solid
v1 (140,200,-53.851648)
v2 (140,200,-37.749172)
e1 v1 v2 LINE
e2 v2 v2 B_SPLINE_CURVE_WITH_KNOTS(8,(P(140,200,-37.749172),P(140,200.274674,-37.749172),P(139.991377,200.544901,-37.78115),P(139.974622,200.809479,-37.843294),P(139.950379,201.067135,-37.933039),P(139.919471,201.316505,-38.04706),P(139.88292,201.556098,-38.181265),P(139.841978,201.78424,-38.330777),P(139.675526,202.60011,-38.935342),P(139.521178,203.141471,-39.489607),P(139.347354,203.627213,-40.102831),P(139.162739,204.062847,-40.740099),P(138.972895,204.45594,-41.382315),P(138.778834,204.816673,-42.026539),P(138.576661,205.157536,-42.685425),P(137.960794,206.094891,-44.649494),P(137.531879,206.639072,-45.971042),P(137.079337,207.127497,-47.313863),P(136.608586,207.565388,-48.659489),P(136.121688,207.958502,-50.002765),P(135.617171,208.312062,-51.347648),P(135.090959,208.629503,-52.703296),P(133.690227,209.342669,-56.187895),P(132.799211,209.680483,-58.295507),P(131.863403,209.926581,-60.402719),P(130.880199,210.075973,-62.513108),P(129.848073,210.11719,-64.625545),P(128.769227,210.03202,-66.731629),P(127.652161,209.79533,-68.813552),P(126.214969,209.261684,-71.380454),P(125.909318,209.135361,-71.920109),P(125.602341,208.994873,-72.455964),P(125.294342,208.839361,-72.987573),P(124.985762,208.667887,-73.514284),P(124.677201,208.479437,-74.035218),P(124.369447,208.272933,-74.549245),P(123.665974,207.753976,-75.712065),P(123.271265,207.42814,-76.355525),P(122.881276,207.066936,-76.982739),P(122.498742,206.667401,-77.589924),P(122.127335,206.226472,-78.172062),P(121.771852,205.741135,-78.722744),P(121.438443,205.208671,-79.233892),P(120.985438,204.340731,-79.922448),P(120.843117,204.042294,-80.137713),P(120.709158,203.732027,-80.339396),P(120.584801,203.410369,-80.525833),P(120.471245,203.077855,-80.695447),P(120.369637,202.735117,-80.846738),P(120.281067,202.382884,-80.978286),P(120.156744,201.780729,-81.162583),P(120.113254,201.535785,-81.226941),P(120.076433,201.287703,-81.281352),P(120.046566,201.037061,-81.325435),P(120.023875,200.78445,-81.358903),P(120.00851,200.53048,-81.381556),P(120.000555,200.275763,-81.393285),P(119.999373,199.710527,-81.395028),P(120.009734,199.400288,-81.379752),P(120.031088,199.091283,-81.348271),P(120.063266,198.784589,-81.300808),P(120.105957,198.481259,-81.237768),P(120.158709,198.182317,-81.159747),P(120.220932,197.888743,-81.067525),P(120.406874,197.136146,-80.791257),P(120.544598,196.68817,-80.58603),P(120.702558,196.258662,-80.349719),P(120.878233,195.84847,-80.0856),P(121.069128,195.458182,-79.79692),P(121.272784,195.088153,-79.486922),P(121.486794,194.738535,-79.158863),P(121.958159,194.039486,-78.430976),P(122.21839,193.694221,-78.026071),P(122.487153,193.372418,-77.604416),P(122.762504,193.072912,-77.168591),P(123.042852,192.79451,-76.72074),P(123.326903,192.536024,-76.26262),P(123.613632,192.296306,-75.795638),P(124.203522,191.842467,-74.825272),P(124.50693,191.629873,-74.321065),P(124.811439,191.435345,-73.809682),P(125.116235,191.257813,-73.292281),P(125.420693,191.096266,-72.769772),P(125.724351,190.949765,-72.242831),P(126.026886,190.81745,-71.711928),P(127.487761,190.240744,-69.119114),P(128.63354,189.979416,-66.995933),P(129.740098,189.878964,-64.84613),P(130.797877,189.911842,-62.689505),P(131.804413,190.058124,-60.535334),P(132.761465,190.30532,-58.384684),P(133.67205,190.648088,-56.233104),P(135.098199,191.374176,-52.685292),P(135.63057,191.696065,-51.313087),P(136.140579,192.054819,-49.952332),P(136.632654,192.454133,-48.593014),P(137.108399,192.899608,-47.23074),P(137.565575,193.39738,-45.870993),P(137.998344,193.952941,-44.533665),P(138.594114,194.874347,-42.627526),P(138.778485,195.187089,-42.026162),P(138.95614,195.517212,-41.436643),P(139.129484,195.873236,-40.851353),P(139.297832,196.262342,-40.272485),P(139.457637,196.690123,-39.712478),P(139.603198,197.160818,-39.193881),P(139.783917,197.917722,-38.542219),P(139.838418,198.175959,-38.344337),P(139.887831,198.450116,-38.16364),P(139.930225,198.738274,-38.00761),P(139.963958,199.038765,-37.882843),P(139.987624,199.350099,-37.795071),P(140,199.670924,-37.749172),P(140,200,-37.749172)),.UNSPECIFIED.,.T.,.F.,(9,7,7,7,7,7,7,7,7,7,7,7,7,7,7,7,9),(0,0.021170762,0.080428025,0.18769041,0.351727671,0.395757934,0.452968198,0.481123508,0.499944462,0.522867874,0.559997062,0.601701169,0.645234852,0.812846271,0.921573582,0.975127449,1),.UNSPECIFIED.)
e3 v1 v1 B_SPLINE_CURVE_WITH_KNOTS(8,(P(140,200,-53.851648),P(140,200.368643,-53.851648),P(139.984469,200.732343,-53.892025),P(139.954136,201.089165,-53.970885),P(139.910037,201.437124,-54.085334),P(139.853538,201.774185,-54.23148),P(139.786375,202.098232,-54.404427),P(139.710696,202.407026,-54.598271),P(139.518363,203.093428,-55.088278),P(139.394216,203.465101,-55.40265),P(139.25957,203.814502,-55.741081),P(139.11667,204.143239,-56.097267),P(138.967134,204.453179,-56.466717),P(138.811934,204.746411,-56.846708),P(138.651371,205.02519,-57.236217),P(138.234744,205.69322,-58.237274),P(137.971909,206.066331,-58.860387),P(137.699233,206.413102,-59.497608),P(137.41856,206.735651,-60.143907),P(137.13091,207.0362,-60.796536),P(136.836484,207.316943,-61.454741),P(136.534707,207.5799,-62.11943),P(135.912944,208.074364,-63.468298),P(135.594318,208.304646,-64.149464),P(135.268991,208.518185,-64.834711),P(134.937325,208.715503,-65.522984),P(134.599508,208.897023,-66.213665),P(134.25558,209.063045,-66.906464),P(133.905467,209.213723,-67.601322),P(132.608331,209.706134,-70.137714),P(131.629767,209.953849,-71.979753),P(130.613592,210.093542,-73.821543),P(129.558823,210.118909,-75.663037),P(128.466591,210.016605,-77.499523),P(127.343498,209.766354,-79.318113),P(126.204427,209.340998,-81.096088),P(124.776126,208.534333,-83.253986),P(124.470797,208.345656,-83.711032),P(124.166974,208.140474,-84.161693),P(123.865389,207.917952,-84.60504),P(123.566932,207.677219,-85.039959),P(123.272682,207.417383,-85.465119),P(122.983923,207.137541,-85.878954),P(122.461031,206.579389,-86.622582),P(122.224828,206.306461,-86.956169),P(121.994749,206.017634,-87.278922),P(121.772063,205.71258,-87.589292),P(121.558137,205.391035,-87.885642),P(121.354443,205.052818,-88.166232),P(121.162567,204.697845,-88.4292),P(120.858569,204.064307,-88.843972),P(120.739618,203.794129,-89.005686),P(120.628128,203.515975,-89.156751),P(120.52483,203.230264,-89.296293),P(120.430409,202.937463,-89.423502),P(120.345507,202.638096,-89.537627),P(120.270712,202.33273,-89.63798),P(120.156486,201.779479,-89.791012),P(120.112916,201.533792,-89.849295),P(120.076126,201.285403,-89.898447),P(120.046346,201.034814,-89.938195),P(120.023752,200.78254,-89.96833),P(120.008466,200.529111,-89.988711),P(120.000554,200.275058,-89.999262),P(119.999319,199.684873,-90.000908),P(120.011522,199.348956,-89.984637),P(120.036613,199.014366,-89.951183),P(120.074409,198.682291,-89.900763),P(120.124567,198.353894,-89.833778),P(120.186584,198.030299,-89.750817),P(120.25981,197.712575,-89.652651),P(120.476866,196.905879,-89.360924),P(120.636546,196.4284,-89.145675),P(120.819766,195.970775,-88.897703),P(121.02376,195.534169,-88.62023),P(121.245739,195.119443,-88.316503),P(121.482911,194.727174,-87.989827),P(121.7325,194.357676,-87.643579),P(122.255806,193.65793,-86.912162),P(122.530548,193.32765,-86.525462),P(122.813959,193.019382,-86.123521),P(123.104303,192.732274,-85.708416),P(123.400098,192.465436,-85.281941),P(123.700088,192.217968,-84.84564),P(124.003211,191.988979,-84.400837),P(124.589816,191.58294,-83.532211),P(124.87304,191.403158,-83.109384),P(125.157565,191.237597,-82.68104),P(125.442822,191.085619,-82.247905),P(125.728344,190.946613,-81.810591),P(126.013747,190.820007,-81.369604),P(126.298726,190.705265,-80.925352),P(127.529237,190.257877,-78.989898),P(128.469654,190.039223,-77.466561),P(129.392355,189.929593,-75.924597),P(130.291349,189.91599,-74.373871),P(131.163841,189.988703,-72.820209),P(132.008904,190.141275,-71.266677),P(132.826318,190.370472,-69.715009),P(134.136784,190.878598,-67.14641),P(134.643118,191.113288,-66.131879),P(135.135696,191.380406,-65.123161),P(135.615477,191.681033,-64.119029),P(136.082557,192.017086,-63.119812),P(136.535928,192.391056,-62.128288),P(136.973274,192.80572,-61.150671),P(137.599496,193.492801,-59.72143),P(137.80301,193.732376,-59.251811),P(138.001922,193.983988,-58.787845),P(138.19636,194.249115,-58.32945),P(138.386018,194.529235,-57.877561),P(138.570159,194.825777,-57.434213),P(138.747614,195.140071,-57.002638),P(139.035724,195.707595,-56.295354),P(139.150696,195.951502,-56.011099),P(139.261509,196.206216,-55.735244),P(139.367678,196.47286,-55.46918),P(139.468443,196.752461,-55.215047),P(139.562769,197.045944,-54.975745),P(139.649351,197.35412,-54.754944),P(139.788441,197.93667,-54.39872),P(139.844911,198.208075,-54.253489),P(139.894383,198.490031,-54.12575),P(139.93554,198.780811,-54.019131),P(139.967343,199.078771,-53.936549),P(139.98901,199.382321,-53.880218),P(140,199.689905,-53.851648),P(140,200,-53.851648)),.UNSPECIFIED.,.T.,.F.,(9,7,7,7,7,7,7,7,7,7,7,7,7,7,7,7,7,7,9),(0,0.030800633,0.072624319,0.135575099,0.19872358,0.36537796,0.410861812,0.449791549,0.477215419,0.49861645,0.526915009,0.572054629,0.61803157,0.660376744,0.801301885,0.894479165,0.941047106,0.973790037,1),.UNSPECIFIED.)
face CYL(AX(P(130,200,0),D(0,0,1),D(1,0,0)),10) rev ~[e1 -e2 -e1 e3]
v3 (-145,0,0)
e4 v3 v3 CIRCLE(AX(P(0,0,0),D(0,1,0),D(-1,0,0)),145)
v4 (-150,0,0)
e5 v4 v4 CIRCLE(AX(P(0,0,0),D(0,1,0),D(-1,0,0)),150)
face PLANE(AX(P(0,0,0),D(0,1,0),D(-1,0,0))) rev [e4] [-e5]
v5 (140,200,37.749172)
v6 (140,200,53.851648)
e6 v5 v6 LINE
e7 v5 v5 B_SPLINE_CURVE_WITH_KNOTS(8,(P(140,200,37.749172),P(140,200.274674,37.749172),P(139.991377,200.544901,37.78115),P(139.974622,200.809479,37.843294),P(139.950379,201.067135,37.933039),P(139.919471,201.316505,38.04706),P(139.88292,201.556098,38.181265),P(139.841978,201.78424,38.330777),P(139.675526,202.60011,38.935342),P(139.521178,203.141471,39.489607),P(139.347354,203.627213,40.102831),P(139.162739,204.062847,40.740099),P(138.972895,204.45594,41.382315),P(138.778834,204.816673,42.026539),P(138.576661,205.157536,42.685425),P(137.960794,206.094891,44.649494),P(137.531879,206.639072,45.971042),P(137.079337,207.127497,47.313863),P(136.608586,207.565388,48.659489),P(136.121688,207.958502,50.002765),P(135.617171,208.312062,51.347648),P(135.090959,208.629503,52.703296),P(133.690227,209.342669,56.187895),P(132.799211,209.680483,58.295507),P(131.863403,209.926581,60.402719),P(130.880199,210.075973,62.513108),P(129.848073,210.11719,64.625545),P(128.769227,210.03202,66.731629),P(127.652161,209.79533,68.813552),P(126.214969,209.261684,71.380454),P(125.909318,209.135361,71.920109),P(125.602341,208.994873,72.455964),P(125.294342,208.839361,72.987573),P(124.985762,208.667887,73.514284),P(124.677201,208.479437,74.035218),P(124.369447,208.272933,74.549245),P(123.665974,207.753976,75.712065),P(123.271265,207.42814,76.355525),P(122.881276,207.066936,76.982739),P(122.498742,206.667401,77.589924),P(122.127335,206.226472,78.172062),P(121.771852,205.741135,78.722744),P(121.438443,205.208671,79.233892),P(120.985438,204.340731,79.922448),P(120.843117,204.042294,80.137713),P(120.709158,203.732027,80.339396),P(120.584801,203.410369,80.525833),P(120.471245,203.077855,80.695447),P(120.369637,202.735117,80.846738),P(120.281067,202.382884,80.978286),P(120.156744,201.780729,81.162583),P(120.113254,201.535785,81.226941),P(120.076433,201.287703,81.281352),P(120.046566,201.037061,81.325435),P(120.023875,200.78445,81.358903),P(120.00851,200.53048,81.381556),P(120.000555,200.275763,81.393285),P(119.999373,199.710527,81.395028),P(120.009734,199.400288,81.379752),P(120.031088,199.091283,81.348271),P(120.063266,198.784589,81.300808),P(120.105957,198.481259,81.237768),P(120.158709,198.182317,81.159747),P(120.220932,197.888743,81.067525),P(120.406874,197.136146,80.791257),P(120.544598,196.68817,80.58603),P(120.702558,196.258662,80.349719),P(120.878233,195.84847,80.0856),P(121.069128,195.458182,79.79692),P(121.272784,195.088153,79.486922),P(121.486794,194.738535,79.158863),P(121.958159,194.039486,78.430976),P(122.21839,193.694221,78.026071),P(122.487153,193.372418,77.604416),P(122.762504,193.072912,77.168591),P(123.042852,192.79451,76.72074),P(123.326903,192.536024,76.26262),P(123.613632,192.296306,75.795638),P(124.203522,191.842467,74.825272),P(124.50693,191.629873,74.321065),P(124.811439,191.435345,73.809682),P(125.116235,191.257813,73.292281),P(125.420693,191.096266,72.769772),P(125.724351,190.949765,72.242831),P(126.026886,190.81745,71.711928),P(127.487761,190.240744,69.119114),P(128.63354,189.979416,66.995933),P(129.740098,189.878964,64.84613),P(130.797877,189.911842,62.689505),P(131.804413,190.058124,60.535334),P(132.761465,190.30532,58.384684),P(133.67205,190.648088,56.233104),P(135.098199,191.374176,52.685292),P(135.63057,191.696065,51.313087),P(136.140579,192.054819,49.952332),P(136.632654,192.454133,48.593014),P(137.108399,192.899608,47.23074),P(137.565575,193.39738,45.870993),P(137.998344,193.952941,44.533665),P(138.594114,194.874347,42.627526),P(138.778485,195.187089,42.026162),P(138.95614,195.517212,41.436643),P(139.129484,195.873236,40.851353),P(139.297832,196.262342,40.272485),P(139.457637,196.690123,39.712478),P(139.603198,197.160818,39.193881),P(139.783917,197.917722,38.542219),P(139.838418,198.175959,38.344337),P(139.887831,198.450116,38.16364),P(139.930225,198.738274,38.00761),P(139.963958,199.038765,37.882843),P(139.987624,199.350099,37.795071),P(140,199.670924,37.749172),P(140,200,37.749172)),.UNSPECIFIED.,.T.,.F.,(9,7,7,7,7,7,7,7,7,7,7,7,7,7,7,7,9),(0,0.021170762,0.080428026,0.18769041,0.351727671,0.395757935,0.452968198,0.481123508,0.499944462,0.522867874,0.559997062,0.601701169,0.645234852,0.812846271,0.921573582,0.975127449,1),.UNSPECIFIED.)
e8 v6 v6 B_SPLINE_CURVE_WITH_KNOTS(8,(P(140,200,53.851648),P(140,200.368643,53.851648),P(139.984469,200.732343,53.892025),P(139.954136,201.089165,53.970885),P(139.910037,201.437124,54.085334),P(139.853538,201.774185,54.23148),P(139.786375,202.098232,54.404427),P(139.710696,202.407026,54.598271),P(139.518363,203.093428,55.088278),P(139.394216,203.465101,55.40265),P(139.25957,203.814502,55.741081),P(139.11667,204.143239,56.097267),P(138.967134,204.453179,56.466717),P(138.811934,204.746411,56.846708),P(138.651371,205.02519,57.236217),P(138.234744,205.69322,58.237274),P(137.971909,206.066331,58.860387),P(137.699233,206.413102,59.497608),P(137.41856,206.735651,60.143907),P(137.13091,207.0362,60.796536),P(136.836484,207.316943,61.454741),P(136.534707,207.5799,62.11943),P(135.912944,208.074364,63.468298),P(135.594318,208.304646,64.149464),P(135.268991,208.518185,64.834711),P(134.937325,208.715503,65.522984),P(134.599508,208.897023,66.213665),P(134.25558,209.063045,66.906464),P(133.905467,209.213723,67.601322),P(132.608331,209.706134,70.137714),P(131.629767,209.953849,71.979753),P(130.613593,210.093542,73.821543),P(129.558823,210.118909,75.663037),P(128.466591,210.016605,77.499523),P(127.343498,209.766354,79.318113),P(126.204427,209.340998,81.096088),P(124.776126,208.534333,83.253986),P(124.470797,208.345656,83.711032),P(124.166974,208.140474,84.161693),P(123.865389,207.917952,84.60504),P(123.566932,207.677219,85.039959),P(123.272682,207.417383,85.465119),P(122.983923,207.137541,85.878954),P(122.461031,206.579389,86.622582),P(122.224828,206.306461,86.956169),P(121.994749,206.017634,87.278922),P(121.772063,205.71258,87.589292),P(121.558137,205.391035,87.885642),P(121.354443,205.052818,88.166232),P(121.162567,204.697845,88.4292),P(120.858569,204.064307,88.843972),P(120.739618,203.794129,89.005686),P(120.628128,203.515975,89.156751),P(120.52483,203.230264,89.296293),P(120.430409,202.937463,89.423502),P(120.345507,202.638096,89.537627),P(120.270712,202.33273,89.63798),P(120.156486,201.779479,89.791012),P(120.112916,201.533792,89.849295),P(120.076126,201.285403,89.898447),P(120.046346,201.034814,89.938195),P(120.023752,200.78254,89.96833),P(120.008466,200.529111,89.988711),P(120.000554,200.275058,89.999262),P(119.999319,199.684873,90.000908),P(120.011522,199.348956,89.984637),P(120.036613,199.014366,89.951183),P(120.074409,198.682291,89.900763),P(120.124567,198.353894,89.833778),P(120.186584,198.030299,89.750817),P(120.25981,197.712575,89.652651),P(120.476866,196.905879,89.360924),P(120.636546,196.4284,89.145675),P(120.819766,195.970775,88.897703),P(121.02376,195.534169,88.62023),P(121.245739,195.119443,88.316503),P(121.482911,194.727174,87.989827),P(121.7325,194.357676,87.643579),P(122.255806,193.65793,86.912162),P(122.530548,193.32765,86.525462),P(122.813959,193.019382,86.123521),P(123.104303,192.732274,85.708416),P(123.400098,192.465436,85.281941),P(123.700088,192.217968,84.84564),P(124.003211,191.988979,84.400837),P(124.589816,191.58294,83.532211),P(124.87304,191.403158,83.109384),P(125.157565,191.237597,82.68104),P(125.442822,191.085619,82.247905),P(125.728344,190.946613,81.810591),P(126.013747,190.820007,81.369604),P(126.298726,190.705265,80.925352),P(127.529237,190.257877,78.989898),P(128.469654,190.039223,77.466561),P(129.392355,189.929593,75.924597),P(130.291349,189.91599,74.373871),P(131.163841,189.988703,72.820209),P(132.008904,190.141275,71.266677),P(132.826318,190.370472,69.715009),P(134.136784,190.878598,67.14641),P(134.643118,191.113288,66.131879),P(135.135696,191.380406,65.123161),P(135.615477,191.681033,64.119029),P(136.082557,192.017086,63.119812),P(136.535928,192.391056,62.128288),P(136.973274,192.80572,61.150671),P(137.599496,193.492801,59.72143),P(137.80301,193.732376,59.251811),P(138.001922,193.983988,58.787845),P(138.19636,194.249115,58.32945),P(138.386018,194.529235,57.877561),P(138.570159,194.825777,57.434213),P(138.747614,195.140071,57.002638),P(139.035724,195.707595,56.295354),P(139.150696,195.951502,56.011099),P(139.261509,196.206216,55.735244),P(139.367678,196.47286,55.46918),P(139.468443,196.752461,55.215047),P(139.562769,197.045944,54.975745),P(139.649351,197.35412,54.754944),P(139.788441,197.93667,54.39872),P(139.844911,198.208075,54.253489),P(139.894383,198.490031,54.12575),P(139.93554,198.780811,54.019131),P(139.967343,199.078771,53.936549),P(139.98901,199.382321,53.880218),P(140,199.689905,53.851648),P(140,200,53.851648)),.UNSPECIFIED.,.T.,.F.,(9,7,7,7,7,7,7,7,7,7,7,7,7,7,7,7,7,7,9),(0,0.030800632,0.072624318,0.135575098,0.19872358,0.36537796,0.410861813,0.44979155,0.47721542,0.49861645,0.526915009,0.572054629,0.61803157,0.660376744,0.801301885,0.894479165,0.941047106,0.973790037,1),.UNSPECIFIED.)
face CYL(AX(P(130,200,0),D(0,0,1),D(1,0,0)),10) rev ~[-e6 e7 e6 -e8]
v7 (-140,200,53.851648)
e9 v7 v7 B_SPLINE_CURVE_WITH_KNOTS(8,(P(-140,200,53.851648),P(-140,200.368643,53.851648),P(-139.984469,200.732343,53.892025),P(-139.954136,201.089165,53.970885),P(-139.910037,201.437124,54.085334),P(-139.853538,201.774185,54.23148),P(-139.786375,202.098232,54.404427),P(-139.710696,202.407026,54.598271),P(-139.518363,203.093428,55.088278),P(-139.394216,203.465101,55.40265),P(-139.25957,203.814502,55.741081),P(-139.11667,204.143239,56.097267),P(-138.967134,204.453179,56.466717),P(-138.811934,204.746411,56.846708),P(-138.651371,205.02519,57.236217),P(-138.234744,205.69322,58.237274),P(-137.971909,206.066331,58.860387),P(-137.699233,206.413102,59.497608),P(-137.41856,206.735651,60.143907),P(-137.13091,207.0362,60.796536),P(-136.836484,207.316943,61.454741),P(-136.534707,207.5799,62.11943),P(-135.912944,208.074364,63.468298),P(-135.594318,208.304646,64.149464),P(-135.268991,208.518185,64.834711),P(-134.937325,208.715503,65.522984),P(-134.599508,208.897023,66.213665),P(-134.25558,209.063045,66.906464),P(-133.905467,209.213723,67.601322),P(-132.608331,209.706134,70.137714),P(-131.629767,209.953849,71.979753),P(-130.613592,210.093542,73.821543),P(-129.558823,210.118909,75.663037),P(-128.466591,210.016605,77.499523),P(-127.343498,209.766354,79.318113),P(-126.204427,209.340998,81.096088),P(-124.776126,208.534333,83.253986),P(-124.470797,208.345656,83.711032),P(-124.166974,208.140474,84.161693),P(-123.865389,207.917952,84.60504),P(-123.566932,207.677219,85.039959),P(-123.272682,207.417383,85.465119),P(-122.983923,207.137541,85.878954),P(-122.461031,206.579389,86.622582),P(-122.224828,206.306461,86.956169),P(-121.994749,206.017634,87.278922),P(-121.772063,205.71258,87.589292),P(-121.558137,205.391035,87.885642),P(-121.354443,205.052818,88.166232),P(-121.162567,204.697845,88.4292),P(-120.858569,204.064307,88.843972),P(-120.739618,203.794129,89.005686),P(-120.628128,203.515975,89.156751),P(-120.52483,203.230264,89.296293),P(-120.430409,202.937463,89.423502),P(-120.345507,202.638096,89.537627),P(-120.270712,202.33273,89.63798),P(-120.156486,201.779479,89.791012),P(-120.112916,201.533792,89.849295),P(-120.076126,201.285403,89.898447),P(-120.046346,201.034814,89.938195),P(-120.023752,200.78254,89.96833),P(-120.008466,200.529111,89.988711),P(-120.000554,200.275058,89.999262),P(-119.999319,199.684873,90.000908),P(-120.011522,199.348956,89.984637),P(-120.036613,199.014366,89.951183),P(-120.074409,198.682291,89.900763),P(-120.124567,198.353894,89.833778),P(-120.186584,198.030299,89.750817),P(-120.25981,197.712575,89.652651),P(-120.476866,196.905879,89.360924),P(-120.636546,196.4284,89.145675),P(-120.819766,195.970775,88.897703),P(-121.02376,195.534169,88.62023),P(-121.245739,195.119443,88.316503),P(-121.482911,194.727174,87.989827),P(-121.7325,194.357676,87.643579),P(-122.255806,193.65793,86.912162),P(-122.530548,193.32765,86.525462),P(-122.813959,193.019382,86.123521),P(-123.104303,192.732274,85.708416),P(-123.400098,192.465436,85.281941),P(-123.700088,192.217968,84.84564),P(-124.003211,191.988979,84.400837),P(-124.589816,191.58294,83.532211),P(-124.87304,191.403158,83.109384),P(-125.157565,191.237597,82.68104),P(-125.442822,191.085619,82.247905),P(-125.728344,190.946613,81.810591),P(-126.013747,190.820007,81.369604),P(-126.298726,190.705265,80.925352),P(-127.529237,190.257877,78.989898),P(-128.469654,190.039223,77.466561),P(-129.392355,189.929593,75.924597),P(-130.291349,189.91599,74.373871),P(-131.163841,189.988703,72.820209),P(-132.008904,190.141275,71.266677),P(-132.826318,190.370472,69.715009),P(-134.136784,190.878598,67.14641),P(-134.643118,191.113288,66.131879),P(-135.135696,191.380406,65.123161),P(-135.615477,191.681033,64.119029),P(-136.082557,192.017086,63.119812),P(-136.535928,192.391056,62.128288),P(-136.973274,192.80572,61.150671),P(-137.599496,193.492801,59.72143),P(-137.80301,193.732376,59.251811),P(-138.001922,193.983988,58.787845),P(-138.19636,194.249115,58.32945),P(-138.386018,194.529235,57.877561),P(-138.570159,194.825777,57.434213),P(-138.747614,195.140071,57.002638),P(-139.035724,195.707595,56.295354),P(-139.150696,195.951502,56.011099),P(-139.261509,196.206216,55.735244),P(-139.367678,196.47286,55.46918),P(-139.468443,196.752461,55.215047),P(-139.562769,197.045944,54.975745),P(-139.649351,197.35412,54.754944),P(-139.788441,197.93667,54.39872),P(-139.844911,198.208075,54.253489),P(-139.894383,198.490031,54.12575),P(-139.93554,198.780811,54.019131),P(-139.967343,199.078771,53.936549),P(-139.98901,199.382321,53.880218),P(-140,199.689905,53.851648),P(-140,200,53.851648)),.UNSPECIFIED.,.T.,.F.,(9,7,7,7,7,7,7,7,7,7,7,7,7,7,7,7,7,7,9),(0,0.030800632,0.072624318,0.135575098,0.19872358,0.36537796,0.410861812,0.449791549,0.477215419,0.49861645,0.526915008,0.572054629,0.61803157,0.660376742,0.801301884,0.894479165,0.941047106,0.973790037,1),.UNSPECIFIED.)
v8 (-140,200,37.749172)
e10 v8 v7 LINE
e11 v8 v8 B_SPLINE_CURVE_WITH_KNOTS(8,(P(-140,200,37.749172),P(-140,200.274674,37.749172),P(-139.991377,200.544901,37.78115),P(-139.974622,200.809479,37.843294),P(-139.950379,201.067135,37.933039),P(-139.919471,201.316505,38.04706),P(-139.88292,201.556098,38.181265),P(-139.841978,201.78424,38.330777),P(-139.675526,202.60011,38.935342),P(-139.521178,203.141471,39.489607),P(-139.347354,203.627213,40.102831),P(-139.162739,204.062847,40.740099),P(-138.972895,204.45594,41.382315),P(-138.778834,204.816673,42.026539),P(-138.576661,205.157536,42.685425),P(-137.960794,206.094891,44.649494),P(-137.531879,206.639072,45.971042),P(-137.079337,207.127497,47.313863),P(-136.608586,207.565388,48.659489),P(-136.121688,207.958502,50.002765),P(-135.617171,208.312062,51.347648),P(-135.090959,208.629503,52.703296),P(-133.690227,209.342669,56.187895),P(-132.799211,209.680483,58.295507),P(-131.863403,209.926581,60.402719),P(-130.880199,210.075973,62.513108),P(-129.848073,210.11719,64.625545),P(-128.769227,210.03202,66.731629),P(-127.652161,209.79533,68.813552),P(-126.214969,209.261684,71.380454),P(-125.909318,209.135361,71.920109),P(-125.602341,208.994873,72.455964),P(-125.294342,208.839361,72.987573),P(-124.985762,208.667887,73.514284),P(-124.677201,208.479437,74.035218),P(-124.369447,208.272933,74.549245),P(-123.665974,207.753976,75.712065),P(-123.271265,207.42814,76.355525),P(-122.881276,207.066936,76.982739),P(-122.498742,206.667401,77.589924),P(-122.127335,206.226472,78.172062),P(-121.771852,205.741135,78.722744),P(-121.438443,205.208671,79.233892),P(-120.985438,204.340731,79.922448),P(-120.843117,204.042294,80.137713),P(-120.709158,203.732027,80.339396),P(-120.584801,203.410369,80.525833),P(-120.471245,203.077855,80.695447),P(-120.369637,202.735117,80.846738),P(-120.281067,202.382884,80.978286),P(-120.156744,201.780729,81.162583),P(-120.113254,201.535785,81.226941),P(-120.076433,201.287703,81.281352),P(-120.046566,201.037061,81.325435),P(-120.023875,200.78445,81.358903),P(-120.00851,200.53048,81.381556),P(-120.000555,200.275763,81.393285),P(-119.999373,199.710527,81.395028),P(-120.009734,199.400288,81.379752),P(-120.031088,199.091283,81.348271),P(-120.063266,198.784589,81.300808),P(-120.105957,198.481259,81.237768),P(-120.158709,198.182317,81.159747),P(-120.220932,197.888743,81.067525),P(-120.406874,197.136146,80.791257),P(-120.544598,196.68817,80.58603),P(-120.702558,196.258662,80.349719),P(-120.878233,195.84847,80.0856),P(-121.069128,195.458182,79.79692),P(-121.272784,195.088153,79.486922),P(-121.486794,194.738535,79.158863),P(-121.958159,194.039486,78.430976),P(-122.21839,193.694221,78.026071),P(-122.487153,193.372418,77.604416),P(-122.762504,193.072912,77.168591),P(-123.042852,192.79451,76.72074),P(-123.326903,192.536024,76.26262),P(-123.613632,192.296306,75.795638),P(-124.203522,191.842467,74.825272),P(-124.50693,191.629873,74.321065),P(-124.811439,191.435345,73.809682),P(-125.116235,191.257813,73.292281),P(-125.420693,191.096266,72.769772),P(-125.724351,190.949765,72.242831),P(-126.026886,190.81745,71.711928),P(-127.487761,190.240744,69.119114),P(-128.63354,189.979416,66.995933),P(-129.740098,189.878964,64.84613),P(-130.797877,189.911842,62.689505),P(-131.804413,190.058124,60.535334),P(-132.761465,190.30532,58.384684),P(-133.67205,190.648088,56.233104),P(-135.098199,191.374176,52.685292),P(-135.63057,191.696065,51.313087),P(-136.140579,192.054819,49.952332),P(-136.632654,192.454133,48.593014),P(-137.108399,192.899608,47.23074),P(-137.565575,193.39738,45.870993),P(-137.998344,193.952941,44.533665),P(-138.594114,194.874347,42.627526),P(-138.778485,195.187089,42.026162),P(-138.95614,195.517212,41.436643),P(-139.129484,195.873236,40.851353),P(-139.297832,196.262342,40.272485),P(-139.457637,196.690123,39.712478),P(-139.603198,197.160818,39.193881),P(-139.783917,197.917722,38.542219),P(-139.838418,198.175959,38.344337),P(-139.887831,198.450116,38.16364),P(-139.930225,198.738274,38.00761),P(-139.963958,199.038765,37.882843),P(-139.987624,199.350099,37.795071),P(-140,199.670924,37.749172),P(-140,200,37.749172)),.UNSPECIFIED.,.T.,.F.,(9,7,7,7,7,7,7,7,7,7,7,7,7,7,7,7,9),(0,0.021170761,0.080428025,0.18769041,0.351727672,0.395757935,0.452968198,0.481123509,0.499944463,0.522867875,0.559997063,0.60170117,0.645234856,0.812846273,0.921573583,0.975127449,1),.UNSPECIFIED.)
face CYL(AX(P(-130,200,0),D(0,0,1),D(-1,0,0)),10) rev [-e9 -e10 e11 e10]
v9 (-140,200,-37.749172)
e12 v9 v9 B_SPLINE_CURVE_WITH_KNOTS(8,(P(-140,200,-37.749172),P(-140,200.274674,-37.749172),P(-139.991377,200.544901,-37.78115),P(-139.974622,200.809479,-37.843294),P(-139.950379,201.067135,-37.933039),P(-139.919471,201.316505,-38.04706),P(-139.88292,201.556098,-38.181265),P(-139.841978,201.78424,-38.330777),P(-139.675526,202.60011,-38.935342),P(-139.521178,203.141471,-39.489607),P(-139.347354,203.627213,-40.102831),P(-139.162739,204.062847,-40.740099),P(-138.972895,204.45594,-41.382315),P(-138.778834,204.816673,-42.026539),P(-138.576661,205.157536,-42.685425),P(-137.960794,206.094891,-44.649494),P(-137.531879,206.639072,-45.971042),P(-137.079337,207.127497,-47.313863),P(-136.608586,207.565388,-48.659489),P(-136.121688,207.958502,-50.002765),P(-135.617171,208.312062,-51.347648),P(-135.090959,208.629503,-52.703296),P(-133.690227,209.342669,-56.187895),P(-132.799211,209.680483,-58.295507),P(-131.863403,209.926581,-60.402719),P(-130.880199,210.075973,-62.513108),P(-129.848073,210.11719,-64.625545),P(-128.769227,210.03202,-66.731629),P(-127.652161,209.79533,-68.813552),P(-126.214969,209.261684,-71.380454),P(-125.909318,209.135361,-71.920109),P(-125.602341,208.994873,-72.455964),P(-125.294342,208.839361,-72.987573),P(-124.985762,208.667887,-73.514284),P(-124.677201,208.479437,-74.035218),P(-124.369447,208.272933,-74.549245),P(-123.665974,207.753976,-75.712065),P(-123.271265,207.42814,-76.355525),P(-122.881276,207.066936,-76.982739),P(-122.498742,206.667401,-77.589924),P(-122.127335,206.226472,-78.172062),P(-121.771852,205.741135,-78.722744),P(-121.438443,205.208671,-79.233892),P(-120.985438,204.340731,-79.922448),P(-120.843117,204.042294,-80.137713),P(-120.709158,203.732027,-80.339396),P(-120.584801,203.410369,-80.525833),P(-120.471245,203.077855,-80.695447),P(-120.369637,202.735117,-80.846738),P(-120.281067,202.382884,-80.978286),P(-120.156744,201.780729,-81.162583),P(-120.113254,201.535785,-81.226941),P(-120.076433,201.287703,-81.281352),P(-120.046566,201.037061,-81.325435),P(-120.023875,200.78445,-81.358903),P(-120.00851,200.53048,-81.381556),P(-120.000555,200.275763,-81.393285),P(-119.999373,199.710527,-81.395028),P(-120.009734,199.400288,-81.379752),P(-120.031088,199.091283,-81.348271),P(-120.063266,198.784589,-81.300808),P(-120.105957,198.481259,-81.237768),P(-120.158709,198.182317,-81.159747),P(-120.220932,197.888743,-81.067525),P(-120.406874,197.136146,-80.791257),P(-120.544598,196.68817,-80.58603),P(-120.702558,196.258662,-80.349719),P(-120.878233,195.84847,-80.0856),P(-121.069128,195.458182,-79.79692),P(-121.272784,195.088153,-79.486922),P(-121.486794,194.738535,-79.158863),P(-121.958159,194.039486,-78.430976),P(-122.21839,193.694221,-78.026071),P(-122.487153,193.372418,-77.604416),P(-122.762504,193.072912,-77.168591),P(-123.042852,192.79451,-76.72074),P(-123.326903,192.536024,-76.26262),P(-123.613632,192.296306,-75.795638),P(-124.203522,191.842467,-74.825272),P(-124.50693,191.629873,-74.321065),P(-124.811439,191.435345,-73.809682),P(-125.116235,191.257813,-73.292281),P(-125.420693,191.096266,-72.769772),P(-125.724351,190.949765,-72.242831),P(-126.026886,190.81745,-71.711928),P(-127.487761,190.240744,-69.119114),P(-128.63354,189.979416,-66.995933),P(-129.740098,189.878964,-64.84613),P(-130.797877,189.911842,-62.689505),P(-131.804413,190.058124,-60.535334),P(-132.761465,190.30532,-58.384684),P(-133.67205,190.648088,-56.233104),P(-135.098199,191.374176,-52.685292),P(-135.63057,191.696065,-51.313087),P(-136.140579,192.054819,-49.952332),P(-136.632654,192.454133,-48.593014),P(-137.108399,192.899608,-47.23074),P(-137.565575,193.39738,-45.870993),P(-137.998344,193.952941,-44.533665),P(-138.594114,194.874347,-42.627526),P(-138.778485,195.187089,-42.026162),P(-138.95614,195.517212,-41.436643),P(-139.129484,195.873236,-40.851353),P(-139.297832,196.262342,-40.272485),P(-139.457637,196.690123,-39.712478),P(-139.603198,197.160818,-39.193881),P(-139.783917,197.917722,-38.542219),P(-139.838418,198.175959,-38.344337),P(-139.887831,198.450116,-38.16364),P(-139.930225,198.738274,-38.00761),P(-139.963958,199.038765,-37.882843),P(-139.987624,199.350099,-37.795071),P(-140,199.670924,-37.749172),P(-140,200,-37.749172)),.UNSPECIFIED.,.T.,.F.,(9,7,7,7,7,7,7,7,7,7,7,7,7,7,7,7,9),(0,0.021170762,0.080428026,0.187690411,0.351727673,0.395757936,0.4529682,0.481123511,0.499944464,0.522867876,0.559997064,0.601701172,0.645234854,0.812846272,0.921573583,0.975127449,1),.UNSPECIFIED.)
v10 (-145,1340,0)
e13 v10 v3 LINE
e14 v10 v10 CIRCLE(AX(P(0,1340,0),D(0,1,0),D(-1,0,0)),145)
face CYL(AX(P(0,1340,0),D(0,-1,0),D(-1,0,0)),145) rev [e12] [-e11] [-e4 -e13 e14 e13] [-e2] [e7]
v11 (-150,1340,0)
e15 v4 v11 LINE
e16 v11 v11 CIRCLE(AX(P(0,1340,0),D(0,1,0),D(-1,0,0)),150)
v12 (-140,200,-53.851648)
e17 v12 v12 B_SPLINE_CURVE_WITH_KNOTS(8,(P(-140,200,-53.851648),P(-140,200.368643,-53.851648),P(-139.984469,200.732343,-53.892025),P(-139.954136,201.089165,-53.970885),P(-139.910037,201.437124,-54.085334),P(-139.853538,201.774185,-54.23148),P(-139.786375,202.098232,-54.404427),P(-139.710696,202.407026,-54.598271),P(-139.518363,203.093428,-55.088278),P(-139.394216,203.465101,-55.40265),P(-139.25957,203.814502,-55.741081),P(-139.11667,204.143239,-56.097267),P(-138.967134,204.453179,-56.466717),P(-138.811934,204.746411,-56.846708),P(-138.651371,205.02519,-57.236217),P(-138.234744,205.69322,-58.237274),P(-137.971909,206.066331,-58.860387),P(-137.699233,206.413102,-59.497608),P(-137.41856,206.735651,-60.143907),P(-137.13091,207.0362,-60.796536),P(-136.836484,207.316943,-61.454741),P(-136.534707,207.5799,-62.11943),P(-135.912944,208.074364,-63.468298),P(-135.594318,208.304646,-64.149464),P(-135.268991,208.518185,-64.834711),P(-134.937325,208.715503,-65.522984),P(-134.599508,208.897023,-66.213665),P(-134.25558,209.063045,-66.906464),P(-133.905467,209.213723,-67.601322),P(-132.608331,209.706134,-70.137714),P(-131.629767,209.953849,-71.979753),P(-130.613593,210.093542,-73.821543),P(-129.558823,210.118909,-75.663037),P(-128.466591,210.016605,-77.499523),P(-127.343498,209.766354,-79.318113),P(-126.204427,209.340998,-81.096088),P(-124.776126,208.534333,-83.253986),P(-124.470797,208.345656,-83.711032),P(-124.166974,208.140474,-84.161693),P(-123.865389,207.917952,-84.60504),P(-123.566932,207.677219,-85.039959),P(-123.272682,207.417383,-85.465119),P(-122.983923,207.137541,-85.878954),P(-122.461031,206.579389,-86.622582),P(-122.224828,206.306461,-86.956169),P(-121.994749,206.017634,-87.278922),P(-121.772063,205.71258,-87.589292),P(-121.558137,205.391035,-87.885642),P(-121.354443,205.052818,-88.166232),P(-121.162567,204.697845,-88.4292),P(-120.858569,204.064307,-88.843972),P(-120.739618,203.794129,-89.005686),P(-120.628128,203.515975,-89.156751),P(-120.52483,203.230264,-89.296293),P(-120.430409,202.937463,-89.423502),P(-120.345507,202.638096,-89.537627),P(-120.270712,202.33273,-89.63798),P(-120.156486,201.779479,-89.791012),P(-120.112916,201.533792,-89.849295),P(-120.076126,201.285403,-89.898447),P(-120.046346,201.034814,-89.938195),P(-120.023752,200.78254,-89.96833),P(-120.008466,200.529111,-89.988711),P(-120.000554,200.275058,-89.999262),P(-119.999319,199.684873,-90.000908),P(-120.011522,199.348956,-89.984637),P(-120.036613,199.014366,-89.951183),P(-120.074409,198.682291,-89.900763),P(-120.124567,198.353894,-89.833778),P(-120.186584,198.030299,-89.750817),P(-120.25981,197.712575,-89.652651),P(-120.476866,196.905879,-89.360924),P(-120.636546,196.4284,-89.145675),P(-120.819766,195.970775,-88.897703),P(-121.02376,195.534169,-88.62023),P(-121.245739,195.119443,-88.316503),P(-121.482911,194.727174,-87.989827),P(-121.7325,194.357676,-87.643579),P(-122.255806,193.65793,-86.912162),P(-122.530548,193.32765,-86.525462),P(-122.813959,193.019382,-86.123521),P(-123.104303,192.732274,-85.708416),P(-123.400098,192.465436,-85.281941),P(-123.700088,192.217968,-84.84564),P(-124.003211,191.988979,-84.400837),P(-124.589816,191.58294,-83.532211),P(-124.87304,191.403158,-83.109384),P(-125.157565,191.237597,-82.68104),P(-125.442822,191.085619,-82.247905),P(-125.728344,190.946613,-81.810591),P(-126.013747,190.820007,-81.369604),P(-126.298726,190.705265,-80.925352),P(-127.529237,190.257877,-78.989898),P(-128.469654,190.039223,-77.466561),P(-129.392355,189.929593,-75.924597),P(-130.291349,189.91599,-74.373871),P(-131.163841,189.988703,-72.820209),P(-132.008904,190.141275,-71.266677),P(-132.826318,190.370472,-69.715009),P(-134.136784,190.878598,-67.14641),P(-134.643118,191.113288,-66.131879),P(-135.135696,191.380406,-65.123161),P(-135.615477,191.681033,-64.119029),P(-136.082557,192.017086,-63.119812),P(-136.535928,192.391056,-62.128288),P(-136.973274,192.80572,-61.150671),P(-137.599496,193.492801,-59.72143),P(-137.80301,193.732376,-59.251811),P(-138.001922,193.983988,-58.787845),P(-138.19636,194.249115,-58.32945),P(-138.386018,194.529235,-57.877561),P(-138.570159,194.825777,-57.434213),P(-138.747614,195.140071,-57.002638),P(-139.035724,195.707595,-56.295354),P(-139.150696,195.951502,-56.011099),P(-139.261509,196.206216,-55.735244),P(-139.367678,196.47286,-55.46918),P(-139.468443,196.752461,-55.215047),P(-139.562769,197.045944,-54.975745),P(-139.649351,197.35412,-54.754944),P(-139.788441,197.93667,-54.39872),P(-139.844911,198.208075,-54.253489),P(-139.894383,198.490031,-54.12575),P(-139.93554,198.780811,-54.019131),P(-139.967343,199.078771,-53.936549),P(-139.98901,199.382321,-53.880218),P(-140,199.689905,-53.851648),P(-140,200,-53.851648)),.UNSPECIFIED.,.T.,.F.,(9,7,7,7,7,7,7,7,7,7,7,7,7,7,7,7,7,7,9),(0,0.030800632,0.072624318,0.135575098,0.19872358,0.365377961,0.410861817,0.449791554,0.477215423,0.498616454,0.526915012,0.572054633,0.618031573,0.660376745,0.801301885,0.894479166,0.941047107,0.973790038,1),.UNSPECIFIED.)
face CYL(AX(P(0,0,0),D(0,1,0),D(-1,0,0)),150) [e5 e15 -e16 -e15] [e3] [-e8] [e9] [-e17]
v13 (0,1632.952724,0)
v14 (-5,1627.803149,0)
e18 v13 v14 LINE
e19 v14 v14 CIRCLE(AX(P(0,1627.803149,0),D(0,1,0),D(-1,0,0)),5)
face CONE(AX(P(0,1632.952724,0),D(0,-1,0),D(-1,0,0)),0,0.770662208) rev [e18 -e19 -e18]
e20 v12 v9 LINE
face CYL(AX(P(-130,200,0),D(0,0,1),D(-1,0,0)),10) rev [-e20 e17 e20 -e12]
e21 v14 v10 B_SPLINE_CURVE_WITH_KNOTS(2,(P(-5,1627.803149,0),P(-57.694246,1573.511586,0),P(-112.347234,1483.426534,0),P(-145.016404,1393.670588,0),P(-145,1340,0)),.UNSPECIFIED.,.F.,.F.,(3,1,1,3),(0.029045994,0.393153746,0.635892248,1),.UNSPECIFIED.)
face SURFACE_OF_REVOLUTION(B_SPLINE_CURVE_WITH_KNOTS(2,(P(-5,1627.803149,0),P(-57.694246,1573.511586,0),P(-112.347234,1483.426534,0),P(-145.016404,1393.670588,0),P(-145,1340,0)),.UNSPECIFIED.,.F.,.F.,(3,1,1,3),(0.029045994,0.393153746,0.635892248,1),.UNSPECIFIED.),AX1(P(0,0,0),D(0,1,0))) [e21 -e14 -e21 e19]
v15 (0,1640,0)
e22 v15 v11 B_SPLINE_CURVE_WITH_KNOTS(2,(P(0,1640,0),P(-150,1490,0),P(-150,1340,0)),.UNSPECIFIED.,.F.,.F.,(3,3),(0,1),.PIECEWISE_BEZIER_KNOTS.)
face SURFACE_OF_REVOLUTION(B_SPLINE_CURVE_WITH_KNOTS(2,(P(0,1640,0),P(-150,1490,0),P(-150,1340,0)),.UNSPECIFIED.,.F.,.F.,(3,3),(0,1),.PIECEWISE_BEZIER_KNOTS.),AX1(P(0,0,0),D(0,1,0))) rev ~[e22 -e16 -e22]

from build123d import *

# Parameters (mm, degrees)
SKETCH2_R          = 10
CUT_EXTRUDE1_DEPTH = 151.0000001


with BuildPart() as part:
    # Sketch1 → Revolve1 (revolve)
    with BuildSketch(Plane.XY):
        with BuildLine():
            Line((-150, 0), (-150, 1340))
            add(Edge.make_bspline(
                [(0, 1640), (-150, 1490), (-150, 1340)],
                knots=[0, 0, 0, 1, 1, 1], degree=2))
            Line((0, 1640), (0, 1632.952723956))
            Line((0, 1632.952723956), (-5, 1627.803149448))
            add(Edge.make_bspline(
                [(-5, 1627.803149448), (-57.694245938, 1573.511585517), (-112.347233502, 1483.42653426), (-145.016403602, 1393.670587787), (-145, 1340)],
                knots=[0.029045994, 0.029045994, 0.029045994, 0.393153746, 0.635892248, 1, 1, 1], degree=2))
            Line((-145, 1340), (-145, 5))
            Line((-145, 5), (-145, 0))
            Line((-145, 0), (-150, 0))
        make_face()
    revolve(axis=Axis((0, 0, 0), (0, 1, 0)))

    # Sketch2 → Cut-Extrude1 (cut, symmetric)
    with BuildSketch(Plane.XY):
        with Locations((130, 200)):
            Circle(SKETCH2_R)
    cut_extrude1 = extrude(amount=CUT_EXTRUDE1_DEPTH, both=True, mode=Mode.SUBTRACT)

    # Mirror1: Cut-Extrude1 across plane
    add(cut_extrude1.mirror(Plane(origin=(0, 0, 0), x_dir=(0, 0, 1), z_dir=(1, 0, 0))), mode=Mode.SUBTRACT)


solid = part.part
